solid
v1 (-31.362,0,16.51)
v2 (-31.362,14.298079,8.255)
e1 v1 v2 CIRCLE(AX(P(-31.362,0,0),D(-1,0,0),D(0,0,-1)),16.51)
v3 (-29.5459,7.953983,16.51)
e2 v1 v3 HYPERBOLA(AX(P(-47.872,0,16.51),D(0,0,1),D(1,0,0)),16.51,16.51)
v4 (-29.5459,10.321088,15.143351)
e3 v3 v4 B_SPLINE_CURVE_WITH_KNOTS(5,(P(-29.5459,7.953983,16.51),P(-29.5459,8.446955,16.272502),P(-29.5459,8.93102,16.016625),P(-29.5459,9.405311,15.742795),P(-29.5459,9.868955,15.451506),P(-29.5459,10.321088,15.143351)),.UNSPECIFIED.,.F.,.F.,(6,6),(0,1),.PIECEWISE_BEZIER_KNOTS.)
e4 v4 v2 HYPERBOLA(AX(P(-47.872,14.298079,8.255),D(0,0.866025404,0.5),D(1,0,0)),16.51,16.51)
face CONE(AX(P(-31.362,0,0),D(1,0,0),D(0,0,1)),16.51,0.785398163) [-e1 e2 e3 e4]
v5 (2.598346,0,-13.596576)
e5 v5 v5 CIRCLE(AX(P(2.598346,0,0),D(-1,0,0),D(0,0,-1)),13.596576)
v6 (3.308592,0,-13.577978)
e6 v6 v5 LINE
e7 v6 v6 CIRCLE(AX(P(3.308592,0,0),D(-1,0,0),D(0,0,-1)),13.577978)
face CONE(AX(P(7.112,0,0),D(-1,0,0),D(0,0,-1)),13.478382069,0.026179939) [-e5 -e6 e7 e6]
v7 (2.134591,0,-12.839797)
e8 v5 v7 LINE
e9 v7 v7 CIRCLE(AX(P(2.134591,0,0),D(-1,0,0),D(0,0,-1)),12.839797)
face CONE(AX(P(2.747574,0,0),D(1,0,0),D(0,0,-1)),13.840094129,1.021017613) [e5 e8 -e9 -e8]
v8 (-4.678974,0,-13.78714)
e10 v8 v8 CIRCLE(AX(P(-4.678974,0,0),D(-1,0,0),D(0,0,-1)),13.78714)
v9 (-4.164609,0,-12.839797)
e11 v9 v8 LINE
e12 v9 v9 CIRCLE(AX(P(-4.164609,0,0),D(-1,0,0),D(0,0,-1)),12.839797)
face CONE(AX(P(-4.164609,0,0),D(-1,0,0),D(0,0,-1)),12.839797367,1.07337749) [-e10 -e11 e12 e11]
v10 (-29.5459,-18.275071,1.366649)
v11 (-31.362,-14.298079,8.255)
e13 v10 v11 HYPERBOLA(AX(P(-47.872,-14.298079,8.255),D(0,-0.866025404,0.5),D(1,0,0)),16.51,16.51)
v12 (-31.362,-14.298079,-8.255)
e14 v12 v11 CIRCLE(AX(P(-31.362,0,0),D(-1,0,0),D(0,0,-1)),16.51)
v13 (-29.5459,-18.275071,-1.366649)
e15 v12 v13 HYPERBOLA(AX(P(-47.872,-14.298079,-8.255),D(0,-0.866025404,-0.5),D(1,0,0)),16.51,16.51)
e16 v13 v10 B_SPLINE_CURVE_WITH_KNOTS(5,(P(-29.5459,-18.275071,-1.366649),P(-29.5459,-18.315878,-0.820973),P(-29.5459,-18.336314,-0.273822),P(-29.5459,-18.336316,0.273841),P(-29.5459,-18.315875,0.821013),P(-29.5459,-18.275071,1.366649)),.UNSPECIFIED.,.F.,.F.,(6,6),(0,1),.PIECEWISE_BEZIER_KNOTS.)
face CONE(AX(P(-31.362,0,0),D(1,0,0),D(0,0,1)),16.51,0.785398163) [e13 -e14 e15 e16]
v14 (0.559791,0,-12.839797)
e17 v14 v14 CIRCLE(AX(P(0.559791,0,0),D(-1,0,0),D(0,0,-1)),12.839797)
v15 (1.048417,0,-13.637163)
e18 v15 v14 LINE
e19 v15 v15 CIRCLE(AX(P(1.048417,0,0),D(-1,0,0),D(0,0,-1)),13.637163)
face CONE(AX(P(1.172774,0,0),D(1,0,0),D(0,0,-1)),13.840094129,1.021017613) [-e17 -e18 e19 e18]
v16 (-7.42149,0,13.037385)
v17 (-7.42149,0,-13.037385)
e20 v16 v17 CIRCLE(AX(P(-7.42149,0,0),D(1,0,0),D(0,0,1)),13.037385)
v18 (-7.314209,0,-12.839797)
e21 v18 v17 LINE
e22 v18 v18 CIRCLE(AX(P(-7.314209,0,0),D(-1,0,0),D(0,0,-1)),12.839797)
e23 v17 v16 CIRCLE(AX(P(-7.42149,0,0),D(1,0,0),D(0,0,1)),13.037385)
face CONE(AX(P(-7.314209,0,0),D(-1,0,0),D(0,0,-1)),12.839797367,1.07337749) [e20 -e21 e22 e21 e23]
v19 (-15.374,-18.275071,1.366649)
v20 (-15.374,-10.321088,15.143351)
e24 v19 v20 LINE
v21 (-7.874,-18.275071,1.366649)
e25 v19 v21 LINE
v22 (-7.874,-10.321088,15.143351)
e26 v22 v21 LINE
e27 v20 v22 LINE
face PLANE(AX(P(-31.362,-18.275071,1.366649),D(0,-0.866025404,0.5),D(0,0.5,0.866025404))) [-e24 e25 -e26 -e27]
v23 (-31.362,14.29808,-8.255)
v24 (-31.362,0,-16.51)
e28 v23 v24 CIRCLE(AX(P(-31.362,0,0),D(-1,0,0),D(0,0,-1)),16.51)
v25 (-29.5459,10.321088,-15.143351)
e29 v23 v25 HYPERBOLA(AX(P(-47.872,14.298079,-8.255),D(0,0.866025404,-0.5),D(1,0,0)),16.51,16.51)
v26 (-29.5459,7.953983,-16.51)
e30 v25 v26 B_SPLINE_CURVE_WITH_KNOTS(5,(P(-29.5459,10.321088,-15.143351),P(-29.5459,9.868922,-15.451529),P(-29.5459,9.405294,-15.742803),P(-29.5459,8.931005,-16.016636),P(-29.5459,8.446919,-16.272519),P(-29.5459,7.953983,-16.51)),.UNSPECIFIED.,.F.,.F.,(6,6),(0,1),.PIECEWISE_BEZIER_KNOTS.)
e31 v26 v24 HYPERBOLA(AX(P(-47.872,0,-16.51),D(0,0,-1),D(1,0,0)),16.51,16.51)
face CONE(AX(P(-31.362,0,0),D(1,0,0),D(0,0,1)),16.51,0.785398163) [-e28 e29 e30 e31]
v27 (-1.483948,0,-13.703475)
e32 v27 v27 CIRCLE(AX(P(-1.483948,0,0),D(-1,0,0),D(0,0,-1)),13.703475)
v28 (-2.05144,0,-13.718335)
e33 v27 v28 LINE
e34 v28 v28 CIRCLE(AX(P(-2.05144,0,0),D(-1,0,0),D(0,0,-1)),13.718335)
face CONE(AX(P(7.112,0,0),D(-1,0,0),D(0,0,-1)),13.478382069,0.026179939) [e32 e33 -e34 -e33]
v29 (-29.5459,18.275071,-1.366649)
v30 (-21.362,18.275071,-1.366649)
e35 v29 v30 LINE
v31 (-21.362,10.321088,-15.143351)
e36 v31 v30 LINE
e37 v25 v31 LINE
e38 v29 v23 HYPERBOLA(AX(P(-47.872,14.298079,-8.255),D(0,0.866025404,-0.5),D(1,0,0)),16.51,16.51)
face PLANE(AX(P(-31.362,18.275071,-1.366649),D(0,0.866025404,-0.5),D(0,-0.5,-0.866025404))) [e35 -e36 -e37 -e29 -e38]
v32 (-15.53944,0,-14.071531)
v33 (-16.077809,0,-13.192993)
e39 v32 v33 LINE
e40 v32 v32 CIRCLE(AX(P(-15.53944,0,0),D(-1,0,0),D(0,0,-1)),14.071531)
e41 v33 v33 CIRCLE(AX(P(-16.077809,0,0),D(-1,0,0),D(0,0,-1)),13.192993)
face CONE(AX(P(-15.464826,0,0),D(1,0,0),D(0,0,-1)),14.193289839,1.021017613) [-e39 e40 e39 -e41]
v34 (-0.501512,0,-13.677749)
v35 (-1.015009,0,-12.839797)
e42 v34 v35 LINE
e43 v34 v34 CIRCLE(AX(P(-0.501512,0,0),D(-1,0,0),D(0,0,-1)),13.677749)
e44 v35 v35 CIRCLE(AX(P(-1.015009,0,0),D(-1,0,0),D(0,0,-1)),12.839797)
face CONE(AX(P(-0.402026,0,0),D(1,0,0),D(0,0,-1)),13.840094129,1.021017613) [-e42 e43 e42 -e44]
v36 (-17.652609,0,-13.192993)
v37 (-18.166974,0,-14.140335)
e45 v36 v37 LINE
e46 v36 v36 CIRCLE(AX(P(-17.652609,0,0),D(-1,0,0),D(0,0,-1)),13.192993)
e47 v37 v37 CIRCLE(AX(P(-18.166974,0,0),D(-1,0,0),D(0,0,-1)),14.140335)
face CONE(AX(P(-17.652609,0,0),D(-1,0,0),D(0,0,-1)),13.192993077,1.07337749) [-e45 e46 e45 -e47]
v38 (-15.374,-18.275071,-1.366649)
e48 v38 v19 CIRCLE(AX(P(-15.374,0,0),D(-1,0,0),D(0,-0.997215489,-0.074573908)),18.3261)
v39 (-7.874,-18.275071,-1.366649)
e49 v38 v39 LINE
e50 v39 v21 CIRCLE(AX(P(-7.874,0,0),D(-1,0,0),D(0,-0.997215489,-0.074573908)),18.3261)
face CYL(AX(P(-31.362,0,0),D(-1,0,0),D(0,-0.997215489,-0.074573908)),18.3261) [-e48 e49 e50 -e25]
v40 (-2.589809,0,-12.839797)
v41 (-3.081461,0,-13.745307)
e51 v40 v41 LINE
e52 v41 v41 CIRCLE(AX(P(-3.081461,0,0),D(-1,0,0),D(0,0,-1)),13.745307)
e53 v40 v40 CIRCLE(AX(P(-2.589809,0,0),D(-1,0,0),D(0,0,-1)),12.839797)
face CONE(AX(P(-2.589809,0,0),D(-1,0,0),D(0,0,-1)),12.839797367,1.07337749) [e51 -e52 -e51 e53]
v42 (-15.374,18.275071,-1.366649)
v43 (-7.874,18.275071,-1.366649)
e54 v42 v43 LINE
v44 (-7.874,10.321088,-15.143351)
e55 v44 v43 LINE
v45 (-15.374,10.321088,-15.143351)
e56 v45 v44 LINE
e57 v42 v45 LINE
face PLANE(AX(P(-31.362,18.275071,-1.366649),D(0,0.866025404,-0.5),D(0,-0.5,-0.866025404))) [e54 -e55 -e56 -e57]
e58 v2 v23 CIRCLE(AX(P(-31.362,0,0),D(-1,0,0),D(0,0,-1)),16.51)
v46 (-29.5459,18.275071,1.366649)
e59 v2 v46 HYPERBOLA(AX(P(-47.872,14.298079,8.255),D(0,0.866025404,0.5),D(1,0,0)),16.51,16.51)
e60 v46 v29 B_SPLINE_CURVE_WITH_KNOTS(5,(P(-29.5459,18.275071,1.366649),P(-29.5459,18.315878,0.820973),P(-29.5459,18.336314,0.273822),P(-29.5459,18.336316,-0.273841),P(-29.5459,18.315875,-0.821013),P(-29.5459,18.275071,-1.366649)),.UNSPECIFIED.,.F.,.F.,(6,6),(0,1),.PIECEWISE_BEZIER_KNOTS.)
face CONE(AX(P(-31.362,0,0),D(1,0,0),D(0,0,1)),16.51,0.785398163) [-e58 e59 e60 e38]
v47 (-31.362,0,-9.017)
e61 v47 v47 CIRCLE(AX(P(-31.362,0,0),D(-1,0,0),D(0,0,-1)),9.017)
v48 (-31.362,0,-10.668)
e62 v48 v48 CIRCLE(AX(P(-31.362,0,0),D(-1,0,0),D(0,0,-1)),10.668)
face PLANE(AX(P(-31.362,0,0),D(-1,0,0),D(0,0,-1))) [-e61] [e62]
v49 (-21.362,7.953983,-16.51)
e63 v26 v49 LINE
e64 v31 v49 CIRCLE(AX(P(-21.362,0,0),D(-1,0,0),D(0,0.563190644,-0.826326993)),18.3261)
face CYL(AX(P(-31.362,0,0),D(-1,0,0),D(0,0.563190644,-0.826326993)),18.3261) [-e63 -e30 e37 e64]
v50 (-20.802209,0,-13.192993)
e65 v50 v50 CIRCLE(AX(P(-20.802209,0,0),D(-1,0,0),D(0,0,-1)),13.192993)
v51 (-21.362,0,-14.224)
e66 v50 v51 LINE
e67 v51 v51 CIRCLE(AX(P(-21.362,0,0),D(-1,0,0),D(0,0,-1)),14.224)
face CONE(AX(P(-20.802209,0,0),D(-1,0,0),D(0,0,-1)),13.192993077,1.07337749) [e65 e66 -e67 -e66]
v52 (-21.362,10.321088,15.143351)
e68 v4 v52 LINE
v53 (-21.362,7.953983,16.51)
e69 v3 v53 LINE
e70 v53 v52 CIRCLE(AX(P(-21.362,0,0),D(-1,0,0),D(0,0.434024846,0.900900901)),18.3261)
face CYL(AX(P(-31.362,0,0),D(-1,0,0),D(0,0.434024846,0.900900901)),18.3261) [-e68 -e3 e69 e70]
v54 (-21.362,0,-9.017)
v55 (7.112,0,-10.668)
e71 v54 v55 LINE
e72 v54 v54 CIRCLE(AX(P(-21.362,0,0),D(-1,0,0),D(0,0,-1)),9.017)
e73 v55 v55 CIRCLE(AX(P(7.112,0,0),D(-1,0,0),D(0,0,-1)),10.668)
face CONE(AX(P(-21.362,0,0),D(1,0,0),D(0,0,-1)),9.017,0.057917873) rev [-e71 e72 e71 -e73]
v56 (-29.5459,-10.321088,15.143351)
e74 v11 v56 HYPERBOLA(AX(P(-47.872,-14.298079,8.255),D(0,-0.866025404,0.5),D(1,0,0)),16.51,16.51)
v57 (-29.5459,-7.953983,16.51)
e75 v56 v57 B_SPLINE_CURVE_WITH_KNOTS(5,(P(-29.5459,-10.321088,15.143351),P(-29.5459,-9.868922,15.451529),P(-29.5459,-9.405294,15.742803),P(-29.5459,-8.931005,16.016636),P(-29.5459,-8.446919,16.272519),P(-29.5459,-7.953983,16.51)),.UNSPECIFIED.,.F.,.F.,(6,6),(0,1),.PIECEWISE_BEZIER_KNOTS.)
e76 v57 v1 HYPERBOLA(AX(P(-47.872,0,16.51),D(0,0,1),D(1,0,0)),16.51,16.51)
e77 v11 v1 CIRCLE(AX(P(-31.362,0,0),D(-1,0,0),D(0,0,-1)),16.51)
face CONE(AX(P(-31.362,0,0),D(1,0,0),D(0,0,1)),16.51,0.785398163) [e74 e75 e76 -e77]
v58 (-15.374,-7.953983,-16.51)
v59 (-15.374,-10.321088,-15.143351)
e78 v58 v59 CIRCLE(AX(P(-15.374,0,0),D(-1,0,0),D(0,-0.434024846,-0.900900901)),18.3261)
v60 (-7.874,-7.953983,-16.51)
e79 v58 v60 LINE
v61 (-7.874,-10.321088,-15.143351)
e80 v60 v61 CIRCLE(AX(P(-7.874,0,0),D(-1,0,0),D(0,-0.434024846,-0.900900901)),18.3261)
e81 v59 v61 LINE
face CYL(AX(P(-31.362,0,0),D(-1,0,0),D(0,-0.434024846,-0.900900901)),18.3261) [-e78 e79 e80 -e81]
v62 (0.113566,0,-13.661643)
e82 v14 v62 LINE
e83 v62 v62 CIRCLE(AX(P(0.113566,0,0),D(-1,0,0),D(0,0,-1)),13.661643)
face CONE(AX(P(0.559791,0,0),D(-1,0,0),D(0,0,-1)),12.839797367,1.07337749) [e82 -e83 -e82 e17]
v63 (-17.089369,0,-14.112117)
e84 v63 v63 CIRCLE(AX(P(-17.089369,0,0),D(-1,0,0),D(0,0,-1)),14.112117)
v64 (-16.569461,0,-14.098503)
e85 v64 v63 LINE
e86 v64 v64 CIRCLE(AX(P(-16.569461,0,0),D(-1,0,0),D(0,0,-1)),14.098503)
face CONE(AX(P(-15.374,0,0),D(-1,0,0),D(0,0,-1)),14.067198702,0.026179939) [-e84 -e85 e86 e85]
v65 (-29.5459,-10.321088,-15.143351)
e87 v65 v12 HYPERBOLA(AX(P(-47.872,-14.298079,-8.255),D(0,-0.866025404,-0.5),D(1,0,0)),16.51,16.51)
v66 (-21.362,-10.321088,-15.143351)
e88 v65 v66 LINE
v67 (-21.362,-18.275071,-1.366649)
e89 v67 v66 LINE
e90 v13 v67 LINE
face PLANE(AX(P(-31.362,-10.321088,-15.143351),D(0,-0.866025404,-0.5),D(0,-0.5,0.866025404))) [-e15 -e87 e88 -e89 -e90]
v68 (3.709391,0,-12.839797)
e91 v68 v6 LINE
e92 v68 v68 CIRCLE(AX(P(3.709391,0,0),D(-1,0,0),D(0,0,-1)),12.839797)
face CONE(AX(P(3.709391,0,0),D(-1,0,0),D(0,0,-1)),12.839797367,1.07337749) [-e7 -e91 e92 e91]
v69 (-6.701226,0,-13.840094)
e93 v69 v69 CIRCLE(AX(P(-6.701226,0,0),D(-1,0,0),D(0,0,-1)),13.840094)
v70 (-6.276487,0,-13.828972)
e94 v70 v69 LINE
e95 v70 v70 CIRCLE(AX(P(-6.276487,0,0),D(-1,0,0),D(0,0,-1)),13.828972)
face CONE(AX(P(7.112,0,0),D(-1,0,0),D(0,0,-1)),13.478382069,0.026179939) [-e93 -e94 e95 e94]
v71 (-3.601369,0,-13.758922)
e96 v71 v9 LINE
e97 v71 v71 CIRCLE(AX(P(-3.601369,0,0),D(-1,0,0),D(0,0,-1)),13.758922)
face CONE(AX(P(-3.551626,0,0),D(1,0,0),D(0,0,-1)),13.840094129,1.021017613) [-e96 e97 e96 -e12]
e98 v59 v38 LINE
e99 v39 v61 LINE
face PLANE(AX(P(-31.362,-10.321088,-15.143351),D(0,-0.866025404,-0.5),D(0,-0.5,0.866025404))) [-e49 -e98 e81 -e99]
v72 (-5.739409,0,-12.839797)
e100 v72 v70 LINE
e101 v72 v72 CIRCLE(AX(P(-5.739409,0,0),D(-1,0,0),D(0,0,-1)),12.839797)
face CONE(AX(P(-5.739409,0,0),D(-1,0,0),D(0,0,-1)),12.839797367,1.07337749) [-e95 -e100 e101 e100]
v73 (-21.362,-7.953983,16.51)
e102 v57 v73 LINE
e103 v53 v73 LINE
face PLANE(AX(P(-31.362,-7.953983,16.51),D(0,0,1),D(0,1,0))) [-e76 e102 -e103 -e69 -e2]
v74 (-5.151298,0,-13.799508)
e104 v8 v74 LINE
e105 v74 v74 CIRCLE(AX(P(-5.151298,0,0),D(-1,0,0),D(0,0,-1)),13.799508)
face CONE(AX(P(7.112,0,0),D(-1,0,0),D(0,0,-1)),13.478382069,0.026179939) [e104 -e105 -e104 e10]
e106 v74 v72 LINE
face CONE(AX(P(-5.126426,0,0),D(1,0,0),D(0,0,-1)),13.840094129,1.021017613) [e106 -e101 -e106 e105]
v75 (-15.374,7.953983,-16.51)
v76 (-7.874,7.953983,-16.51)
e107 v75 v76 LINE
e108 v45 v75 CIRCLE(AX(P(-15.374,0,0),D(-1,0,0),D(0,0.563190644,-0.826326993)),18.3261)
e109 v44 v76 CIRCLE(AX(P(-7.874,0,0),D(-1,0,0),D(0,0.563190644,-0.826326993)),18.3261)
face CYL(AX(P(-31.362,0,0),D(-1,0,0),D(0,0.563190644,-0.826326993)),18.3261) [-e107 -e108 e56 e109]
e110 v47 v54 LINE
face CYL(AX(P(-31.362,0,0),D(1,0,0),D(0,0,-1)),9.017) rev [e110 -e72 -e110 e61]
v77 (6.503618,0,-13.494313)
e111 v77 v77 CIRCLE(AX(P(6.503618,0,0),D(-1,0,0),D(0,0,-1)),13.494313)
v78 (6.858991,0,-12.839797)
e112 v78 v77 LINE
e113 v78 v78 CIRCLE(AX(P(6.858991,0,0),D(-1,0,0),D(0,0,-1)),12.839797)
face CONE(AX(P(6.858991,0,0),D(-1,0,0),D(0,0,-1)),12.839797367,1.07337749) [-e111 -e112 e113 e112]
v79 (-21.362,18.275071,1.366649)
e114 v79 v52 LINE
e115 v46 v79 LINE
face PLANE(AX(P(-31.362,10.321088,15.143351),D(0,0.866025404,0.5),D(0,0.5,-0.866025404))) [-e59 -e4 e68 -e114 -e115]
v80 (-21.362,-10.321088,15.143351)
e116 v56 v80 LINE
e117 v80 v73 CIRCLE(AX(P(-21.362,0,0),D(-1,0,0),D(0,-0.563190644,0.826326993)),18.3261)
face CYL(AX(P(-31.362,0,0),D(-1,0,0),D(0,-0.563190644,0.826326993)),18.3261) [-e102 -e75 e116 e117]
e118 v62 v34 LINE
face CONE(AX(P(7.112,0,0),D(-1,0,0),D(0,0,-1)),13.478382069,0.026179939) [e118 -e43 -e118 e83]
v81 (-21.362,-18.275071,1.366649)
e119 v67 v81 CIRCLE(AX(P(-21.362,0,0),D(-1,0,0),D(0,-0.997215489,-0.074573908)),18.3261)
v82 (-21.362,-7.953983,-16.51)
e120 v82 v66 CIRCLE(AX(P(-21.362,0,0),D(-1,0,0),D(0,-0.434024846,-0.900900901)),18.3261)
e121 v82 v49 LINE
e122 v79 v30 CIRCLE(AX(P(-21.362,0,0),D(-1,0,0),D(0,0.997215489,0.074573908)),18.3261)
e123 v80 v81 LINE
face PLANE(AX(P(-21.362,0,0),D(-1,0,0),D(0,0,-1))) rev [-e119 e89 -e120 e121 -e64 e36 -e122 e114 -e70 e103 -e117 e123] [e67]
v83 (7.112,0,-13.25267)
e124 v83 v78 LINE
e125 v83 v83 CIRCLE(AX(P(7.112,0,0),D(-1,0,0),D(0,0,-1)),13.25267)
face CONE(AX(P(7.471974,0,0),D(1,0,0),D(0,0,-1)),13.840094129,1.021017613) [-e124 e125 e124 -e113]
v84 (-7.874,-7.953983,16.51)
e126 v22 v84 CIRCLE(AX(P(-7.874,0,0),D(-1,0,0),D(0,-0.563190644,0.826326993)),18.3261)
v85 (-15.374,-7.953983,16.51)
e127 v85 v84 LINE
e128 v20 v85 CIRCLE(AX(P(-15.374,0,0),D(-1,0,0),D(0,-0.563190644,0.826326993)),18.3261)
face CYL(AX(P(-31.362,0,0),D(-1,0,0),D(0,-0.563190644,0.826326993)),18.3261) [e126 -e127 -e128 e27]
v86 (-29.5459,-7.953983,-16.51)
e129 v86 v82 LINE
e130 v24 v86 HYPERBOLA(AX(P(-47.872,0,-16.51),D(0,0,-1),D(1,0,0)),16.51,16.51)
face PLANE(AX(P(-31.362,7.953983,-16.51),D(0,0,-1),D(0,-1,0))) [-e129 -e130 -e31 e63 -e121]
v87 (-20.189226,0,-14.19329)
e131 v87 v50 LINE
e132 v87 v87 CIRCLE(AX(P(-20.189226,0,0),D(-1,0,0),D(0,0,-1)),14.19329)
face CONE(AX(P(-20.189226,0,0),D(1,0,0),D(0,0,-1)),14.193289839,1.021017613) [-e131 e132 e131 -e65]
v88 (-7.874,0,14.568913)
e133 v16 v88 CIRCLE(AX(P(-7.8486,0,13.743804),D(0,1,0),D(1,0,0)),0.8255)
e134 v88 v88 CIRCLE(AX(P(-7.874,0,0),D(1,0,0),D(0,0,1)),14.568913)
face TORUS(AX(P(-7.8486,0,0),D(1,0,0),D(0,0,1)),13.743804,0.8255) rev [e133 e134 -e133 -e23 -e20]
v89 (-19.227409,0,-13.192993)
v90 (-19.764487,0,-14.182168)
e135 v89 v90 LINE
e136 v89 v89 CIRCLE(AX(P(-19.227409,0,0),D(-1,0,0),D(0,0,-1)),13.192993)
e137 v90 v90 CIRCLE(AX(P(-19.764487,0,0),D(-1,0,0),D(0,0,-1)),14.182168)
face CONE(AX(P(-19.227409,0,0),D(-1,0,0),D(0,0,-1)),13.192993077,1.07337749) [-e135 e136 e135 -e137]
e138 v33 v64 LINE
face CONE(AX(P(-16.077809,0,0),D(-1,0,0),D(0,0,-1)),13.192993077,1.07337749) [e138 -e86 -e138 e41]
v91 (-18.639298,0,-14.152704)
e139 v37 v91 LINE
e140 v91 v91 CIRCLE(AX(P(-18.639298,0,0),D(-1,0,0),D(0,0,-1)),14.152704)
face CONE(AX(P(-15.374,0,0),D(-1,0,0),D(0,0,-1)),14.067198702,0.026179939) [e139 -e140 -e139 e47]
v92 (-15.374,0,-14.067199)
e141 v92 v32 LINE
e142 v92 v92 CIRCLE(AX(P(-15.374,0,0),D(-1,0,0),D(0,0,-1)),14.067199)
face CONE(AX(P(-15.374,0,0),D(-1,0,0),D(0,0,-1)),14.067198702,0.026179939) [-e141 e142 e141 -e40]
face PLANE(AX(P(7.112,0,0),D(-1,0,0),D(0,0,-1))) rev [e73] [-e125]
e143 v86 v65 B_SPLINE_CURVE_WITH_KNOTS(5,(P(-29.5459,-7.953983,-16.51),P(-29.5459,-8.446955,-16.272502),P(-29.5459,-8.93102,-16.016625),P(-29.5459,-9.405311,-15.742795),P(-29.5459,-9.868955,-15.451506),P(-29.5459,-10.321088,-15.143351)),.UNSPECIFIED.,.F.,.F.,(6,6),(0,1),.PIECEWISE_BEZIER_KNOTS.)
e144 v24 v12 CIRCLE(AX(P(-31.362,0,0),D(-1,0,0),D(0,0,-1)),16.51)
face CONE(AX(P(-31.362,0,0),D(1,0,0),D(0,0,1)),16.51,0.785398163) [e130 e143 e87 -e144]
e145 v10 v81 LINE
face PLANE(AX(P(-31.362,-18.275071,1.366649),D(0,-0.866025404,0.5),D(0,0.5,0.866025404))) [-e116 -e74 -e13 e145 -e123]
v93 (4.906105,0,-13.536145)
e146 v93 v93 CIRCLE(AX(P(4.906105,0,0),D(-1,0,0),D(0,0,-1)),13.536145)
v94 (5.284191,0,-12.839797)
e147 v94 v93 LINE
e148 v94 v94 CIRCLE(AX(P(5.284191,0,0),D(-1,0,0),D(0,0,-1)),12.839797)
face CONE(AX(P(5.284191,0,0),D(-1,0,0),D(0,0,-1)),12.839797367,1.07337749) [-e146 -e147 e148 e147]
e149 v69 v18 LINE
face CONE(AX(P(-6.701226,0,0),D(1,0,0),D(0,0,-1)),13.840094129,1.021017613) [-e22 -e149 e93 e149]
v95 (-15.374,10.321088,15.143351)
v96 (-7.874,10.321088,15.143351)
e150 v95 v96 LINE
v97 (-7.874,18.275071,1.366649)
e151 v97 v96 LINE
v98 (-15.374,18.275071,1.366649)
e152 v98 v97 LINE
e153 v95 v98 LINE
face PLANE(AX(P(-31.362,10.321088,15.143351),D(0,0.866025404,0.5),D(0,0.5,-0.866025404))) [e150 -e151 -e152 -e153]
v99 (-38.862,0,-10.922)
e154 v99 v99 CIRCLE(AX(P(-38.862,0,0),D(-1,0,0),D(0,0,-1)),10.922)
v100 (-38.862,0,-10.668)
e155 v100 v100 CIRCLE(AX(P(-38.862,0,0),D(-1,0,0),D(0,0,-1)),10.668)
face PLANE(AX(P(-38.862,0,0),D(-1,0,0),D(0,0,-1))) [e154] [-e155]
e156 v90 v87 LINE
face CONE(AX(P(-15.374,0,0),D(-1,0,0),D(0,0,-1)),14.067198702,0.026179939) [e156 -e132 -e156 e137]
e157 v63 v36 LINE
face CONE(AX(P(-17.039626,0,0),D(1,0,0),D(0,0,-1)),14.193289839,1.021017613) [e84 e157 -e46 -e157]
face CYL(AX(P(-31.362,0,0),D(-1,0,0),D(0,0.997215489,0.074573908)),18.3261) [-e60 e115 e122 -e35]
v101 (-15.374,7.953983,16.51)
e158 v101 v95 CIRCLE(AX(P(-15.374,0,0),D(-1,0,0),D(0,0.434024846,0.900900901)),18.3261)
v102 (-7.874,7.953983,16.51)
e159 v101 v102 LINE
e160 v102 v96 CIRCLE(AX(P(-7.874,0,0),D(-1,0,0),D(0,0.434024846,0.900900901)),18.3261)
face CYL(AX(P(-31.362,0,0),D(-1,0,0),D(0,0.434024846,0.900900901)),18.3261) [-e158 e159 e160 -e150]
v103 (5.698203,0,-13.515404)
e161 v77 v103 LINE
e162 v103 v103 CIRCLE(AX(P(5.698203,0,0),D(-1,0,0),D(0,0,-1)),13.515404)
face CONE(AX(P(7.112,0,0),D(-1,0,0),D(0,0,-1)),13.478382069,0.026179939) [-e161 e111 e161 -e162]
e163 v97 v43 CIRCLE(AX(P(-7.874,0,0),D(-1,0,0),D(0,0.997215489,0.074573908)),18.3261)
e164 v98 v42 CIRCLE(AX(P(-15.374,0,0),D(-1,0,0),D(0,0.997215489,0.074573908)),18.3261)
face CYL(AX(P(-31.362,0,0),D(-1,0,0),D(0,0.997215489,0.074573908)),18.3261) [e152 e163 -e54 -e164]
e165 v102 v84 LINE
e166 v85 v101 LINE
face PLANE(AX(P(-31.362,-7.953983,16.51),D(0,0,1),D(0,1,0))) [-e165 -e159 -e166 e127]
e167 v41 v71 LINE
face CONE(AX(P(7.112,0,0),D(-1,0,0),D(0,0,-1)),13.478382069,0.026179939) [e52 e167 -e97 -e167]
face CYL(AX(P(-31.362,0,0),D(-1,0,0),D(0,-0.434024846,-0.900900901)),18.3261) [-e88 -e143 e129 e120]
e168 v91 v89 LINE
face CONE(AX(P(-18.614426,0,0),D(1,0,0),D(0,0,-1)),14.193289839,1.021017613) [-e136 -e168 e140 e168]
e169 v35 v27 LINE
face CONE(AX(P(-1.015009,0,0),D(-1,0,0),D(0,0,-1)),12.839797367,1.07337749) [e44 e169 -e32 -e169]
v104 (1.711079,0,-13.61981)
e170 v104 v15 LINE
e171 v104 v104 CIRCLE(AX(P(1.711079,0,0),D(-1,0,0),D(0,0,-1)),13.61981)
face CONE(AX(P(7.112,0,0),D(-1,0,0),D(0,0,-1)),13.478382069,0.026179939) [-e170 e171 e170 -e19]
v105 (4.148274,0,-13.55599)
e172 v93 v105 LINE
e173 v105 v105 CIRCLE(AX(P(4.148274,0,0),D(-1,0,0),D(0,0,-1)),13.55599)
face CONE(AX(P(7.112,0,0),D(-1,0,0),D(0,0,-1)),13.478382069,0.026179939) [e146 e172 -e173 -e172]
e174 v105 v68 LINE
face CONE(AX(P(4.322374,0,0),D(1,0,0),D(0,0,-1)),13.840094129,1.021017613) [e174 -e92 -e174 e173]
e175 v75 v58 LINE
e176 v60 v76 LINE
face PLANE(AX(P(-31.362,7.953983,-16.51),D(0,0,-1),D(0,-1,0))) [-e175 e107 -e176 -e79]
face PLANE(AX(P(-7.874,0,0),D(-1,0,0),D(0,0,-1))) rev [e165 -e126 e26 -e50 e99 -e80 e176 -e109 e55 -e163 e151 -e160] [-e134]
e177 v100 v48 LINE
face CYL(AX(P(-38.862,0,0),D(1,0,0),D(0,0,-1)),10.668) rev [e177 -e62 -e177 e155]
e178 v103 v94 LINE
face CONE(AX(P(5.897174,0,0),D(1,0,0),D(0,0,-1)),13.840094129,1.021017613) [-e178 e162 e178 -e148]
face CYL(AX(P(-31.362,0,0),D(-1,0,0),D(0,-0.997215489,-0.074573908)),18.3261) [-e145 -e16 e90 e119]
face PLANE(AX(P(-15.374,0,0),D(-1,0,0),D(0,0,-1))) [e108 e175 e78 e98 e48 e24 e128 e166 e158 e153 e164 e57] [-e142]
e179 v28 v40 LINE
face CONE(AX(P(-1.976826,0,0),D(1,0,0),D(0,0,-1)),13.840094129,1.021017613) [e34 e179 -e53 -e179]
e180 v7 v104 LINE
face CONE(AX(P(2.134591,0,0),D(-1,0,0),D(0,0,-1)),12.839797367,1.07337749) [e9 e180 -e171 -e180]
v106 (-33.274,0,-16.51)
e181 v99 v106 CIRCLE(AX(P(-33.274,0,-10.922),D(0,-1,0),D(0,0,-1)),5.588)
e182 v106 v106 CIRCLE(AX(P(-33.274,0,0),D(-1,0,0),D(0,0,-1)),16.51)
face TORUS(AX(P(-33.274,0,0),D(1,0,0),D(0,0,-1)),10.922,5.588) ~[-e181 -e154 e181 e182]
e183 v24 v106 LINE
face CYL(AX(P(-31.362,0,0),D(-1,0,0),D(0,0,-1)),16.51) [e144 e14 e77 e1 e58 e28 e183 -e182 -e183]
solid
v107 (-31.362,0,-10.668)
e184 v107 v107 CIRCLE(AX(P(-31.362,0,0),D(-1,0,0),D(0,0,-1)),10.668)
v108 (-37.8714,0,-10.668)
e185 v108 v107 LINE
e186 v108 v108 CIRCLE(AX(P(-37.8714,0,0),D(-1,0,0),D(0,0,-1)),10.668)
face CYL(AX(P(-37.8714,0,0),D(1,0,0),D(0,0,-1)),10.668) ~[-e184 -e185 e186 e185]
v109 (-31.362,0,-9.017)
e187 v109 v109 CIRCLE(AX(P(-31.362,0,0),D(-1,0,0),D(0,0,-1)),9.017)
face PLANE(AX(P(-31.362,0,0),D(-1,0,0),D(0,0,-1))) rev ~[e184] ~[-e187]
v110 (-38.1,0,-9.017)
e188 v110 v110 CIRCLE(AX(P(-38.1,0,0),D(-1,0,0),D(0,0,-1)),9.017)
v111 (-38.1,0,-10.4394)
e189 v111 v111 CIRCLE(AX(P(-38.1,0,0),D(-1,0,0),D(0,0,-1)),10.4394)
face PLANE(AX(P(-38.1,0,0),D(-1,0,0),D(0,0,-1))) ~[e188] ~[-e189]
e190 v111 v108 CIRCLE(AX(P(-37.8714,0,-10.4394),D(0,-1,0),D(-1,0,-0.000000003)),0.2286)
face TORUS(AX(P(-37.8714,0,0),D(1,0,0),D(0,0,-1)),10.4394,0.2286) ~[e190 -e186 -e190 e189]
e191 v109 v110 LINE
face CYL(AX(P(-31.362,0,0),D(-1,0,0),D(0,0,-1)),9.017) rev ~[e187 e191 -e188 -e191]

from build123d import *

# Parameters (mm, degrees)
LPATTERN6_COUNT    = 4
LPATTERN6_PITCH    = 1.5748
LPATTERN7_COUNT    = 10
LPATTERN7_PITCH    = 1.5748
SKETCH12_OUTSIDE_W = 88.86
SKETCH12_OUTSIDE_H = 88.86
CUT_EXTRUDE2_DEPTH = 39.474
FILLET4_R          = 5.588
SKETCH19_OUTSIDE_W = 56.502
SKETCH19_OUTSIDE_H = 60.134
SKETCH19_OUTSIDE_R = 16.51
CUT_EXTRUDE3_DEPTH = 3.99796
CUT_EXTRUDE3_DRAFT = -45
SKETCH28_R         = 0.8255


with BuildPart() as part:
    # Sketch10 → Revolve2 (revolve)
    with BuildSketch(Plane.XY, mode=Mode.PRIVATE) as revolve2_sk:
        Polygon((-31.362, 9.017), (-21.362, 9.017), (7.112, 10.668), (7.112, 13.478382069), (-7.874, 13.87080429), (-7.874, 33.02), (-15.374, 33.02), (-15.374, 14.067198702), (-21.362, 14.224), (-21.362, 33.02), (-31.362, 33.02), (-31.362, 16.51), (-38.862, 16.51), (-38.862, 10.668), (-31.362, 10.668), align=None)
    revolve(revolve2_sk.sketch.rotate(Axis((0, 0, 0), (-1, 0, 0)), 90), axis=Axis((0, 0, 0), (-1, 0, 0)))  # turned: the seam where the file's is

    # Sketch26 → Cut-Revolve1 (revolve, cut)
    with BuildSketch(Plane.XY, mode=Mode.PRIVATE) as cut_revolve1_sk:
        Polygon((-21.362, 14.224), (-20.189226271, 14.193289839), (-20.802208915, 13.192993077), align=None)
    cut_revolve1 = revolve(cut_revolve1_sk.sketch.rotate(Axis((0, 0, 0), (-1, 0, 0)), 90), axis=Axis((0, 0, 0), (-1, 0, 0)), mode=Mode.SUBTRACT)  # turned: the seam where the file's is

    # LPattern6: Cut-Revolve1 ×4
    with Locations(*[(i * LPATTERN6_PITCH, 0, 0) for i in range(1, LPATTERN6_COUNT)]):
        add(cut_revolve1, mode=Mode.SUBTRACT)

    # Sketch27 → Cut-Revolve2 (revolve, cut)
    with BuildSketch(Plane.XY, mode=Mode.PRIVATE) as cut_revolve2_sk:
        Polygon((-7.874, 13.87080429), (-6.701226271, 13.840094129), (-7.314208915, 12.839797367), align=None)
    cut_revolve2 = revolve(cut_revolve2_sk.sketch.rotate(Axis((0, 0, 0), (-1, 0, 0)), 90), axis=Axis((0, 0, 0), (-1, 0, 0)), mode=Mode.SUBTRACT)  # turned: the seam where the file's is

    # LPattern7: Cut-Revolve2 ×10
    with Locations(*[(i * LPATTERN7_PITCH, 0, 0) for i in range(1, LPATTERN7_COUNT)]):
        add(cut_revolve2, mode=Mode.SUBTRACT)

    # Sketch12 outside → Cut-Extrude2 (cut, through all)
    with BuildSketch(Plane.ZY.offset(31.362)):
        Rectangle(SKETCH12_OUTSIDE_W, SKETCH12_OUTSIDE_H)
        with BuildLine():
            Line((-1.366648898, 18.27507078), (-15.143351102, 10.321088053))
            ThreePointArc((-15.143351102, 10.321088053), (-15.870868152, 9.16305), (-16.51, 7.953982726))
            Line((-16.51, 7.953982726), (-16.51, -7.953982726))
            ThreePointArc((-16.51, -7.953982726), (-15.870868152, -9.16305), (-15.143351102, -10.321088053))
            Line((-15.143351102, -10.321088053), (-1.366648898, -18.27507078))
            ThreePointArc((-1.366648898, -18.27507078), (0, -18.3261), (1.366648898, -18.27507078))
            Line((1.366648898, -18.27507078), (15.143351102, -10.321088053))
            ThreePointArc((15.143351102, -10.321088053), (15.870868152, -9.16305), (16.51, -7.953982726))
            Line((16.51, -7.953982726), (16.51, 7.953982726))
            ThreePointArc((16.51, 7.953982726), (15.870868152, 9.16305), (15.143351102, 10.321088053))
            Line((15.143351102, 10.321088053), (1.366648898, 18.27507078))
            ThreePointArc((1.366648898, 18.27507078), (0, 18.3261), (-1.366648898, 18.27507078))
        make_face(mode=Mode.SUBTRACT)
    extrude(amount=-CUT_EXTRUDE2_DEPTH, mode=Mode.SUBTRACT)

    # Fillet4
    fillet4_edges = [part.edges().sort_by_distance(p)[0] for p in [
        (-38.862, 0, 16.51),
    ]]
    fillet(fillet4_edges, radius=FILLET4_R)


with BuildPart() as body_2:
    # Sketch23 → Revolve6 (revolve)
    with BuildSketch(Plane.XY, mode=Mode.PRIVATE) as revolve6_sk:
        with BuildLine():
            Line((-37.8714, 10.668), (-31.362, 10.668))
            Line((-31.362, 10.668), (-31.362, 9.017))
            Line((-31.362, 9.017), (-38.1, 9.017))
            Line((-38.1, 9.017), (-38.1, 10.4394))
            ThreePointArc((-38.1, 10.4394), (-38.03304461, 10.60104461), (-37.8714, 10.668))
        make_face()
    revolve(revolve6_sk.sketch.rotate(Axis((0, 0, 0), (-1, 0, 0)), 90), axis=Axis((0, 0, 0), (-1, 0, 0)))  # turned: the seam where the file's is


with BuildPart() as cut_extrude3_tool:
    # Sketch19 outside → Cut-Extrude3 (with draft: the straight prism first)
    with BuildSketch(Plane.ZY.offset(31.362)):
        Rectangle(SKETCH19_OUTSIDE_W, SKETCH19_OUTSIDE_H)
        Circle(SKETCH19_OUTSIDE_R, mode=Mode.SUBTRACT)
    extrude(amount=-CUT_EXTRUDE3_DEPTH)
    # Cut-Extrude3: the draft: its side faces are tilted about the plane it starts from
    cut_extrude3_sides = [cut_extrude3_tool.faces().sort_by_distance(p)[0] for p in [
        (-29.36302, -30.067, 0),
        (-29.36302, 0, 28.251),
        (-29.36302, 30.067, 0),
        (-29.36302, 0, -28.251),
        (-29.36302, 0, -16.51),
    ]]
    draft(cut_extrude3_sides, Plane.ZY.offset(31.362), CUT_EXTRUDE3_DRAFT)


with BuildPart() as part_1:
    add(part.part)

    # Cut-Extrude3: cut by cut_extrude3_tool
    add(cut_extrude3_tool.part, mode=Mode.SUBTRACT)

    # Sketch28 → Cut-Revolve3 (revolve, cut)
    with BuildSketch(Plane.XY, mode=Mode.PRIVATE) as cut_revolve3_sk:
        with Locations((-7.8486, -13.74380429)):
            Circle(SKETCH28_R)
    revolve(cut_revolve3_sk.sketch.rotate(Axis((7.112, 0, 0), (-1, 0, 0)), 90), axis=Axis((7.112, 0, 0), (-1, 0, 0)), mode=Mode.SUBTRACT)  # turned: the seam where the file's is


solid = Compound([body_2.part, part_1.part])
